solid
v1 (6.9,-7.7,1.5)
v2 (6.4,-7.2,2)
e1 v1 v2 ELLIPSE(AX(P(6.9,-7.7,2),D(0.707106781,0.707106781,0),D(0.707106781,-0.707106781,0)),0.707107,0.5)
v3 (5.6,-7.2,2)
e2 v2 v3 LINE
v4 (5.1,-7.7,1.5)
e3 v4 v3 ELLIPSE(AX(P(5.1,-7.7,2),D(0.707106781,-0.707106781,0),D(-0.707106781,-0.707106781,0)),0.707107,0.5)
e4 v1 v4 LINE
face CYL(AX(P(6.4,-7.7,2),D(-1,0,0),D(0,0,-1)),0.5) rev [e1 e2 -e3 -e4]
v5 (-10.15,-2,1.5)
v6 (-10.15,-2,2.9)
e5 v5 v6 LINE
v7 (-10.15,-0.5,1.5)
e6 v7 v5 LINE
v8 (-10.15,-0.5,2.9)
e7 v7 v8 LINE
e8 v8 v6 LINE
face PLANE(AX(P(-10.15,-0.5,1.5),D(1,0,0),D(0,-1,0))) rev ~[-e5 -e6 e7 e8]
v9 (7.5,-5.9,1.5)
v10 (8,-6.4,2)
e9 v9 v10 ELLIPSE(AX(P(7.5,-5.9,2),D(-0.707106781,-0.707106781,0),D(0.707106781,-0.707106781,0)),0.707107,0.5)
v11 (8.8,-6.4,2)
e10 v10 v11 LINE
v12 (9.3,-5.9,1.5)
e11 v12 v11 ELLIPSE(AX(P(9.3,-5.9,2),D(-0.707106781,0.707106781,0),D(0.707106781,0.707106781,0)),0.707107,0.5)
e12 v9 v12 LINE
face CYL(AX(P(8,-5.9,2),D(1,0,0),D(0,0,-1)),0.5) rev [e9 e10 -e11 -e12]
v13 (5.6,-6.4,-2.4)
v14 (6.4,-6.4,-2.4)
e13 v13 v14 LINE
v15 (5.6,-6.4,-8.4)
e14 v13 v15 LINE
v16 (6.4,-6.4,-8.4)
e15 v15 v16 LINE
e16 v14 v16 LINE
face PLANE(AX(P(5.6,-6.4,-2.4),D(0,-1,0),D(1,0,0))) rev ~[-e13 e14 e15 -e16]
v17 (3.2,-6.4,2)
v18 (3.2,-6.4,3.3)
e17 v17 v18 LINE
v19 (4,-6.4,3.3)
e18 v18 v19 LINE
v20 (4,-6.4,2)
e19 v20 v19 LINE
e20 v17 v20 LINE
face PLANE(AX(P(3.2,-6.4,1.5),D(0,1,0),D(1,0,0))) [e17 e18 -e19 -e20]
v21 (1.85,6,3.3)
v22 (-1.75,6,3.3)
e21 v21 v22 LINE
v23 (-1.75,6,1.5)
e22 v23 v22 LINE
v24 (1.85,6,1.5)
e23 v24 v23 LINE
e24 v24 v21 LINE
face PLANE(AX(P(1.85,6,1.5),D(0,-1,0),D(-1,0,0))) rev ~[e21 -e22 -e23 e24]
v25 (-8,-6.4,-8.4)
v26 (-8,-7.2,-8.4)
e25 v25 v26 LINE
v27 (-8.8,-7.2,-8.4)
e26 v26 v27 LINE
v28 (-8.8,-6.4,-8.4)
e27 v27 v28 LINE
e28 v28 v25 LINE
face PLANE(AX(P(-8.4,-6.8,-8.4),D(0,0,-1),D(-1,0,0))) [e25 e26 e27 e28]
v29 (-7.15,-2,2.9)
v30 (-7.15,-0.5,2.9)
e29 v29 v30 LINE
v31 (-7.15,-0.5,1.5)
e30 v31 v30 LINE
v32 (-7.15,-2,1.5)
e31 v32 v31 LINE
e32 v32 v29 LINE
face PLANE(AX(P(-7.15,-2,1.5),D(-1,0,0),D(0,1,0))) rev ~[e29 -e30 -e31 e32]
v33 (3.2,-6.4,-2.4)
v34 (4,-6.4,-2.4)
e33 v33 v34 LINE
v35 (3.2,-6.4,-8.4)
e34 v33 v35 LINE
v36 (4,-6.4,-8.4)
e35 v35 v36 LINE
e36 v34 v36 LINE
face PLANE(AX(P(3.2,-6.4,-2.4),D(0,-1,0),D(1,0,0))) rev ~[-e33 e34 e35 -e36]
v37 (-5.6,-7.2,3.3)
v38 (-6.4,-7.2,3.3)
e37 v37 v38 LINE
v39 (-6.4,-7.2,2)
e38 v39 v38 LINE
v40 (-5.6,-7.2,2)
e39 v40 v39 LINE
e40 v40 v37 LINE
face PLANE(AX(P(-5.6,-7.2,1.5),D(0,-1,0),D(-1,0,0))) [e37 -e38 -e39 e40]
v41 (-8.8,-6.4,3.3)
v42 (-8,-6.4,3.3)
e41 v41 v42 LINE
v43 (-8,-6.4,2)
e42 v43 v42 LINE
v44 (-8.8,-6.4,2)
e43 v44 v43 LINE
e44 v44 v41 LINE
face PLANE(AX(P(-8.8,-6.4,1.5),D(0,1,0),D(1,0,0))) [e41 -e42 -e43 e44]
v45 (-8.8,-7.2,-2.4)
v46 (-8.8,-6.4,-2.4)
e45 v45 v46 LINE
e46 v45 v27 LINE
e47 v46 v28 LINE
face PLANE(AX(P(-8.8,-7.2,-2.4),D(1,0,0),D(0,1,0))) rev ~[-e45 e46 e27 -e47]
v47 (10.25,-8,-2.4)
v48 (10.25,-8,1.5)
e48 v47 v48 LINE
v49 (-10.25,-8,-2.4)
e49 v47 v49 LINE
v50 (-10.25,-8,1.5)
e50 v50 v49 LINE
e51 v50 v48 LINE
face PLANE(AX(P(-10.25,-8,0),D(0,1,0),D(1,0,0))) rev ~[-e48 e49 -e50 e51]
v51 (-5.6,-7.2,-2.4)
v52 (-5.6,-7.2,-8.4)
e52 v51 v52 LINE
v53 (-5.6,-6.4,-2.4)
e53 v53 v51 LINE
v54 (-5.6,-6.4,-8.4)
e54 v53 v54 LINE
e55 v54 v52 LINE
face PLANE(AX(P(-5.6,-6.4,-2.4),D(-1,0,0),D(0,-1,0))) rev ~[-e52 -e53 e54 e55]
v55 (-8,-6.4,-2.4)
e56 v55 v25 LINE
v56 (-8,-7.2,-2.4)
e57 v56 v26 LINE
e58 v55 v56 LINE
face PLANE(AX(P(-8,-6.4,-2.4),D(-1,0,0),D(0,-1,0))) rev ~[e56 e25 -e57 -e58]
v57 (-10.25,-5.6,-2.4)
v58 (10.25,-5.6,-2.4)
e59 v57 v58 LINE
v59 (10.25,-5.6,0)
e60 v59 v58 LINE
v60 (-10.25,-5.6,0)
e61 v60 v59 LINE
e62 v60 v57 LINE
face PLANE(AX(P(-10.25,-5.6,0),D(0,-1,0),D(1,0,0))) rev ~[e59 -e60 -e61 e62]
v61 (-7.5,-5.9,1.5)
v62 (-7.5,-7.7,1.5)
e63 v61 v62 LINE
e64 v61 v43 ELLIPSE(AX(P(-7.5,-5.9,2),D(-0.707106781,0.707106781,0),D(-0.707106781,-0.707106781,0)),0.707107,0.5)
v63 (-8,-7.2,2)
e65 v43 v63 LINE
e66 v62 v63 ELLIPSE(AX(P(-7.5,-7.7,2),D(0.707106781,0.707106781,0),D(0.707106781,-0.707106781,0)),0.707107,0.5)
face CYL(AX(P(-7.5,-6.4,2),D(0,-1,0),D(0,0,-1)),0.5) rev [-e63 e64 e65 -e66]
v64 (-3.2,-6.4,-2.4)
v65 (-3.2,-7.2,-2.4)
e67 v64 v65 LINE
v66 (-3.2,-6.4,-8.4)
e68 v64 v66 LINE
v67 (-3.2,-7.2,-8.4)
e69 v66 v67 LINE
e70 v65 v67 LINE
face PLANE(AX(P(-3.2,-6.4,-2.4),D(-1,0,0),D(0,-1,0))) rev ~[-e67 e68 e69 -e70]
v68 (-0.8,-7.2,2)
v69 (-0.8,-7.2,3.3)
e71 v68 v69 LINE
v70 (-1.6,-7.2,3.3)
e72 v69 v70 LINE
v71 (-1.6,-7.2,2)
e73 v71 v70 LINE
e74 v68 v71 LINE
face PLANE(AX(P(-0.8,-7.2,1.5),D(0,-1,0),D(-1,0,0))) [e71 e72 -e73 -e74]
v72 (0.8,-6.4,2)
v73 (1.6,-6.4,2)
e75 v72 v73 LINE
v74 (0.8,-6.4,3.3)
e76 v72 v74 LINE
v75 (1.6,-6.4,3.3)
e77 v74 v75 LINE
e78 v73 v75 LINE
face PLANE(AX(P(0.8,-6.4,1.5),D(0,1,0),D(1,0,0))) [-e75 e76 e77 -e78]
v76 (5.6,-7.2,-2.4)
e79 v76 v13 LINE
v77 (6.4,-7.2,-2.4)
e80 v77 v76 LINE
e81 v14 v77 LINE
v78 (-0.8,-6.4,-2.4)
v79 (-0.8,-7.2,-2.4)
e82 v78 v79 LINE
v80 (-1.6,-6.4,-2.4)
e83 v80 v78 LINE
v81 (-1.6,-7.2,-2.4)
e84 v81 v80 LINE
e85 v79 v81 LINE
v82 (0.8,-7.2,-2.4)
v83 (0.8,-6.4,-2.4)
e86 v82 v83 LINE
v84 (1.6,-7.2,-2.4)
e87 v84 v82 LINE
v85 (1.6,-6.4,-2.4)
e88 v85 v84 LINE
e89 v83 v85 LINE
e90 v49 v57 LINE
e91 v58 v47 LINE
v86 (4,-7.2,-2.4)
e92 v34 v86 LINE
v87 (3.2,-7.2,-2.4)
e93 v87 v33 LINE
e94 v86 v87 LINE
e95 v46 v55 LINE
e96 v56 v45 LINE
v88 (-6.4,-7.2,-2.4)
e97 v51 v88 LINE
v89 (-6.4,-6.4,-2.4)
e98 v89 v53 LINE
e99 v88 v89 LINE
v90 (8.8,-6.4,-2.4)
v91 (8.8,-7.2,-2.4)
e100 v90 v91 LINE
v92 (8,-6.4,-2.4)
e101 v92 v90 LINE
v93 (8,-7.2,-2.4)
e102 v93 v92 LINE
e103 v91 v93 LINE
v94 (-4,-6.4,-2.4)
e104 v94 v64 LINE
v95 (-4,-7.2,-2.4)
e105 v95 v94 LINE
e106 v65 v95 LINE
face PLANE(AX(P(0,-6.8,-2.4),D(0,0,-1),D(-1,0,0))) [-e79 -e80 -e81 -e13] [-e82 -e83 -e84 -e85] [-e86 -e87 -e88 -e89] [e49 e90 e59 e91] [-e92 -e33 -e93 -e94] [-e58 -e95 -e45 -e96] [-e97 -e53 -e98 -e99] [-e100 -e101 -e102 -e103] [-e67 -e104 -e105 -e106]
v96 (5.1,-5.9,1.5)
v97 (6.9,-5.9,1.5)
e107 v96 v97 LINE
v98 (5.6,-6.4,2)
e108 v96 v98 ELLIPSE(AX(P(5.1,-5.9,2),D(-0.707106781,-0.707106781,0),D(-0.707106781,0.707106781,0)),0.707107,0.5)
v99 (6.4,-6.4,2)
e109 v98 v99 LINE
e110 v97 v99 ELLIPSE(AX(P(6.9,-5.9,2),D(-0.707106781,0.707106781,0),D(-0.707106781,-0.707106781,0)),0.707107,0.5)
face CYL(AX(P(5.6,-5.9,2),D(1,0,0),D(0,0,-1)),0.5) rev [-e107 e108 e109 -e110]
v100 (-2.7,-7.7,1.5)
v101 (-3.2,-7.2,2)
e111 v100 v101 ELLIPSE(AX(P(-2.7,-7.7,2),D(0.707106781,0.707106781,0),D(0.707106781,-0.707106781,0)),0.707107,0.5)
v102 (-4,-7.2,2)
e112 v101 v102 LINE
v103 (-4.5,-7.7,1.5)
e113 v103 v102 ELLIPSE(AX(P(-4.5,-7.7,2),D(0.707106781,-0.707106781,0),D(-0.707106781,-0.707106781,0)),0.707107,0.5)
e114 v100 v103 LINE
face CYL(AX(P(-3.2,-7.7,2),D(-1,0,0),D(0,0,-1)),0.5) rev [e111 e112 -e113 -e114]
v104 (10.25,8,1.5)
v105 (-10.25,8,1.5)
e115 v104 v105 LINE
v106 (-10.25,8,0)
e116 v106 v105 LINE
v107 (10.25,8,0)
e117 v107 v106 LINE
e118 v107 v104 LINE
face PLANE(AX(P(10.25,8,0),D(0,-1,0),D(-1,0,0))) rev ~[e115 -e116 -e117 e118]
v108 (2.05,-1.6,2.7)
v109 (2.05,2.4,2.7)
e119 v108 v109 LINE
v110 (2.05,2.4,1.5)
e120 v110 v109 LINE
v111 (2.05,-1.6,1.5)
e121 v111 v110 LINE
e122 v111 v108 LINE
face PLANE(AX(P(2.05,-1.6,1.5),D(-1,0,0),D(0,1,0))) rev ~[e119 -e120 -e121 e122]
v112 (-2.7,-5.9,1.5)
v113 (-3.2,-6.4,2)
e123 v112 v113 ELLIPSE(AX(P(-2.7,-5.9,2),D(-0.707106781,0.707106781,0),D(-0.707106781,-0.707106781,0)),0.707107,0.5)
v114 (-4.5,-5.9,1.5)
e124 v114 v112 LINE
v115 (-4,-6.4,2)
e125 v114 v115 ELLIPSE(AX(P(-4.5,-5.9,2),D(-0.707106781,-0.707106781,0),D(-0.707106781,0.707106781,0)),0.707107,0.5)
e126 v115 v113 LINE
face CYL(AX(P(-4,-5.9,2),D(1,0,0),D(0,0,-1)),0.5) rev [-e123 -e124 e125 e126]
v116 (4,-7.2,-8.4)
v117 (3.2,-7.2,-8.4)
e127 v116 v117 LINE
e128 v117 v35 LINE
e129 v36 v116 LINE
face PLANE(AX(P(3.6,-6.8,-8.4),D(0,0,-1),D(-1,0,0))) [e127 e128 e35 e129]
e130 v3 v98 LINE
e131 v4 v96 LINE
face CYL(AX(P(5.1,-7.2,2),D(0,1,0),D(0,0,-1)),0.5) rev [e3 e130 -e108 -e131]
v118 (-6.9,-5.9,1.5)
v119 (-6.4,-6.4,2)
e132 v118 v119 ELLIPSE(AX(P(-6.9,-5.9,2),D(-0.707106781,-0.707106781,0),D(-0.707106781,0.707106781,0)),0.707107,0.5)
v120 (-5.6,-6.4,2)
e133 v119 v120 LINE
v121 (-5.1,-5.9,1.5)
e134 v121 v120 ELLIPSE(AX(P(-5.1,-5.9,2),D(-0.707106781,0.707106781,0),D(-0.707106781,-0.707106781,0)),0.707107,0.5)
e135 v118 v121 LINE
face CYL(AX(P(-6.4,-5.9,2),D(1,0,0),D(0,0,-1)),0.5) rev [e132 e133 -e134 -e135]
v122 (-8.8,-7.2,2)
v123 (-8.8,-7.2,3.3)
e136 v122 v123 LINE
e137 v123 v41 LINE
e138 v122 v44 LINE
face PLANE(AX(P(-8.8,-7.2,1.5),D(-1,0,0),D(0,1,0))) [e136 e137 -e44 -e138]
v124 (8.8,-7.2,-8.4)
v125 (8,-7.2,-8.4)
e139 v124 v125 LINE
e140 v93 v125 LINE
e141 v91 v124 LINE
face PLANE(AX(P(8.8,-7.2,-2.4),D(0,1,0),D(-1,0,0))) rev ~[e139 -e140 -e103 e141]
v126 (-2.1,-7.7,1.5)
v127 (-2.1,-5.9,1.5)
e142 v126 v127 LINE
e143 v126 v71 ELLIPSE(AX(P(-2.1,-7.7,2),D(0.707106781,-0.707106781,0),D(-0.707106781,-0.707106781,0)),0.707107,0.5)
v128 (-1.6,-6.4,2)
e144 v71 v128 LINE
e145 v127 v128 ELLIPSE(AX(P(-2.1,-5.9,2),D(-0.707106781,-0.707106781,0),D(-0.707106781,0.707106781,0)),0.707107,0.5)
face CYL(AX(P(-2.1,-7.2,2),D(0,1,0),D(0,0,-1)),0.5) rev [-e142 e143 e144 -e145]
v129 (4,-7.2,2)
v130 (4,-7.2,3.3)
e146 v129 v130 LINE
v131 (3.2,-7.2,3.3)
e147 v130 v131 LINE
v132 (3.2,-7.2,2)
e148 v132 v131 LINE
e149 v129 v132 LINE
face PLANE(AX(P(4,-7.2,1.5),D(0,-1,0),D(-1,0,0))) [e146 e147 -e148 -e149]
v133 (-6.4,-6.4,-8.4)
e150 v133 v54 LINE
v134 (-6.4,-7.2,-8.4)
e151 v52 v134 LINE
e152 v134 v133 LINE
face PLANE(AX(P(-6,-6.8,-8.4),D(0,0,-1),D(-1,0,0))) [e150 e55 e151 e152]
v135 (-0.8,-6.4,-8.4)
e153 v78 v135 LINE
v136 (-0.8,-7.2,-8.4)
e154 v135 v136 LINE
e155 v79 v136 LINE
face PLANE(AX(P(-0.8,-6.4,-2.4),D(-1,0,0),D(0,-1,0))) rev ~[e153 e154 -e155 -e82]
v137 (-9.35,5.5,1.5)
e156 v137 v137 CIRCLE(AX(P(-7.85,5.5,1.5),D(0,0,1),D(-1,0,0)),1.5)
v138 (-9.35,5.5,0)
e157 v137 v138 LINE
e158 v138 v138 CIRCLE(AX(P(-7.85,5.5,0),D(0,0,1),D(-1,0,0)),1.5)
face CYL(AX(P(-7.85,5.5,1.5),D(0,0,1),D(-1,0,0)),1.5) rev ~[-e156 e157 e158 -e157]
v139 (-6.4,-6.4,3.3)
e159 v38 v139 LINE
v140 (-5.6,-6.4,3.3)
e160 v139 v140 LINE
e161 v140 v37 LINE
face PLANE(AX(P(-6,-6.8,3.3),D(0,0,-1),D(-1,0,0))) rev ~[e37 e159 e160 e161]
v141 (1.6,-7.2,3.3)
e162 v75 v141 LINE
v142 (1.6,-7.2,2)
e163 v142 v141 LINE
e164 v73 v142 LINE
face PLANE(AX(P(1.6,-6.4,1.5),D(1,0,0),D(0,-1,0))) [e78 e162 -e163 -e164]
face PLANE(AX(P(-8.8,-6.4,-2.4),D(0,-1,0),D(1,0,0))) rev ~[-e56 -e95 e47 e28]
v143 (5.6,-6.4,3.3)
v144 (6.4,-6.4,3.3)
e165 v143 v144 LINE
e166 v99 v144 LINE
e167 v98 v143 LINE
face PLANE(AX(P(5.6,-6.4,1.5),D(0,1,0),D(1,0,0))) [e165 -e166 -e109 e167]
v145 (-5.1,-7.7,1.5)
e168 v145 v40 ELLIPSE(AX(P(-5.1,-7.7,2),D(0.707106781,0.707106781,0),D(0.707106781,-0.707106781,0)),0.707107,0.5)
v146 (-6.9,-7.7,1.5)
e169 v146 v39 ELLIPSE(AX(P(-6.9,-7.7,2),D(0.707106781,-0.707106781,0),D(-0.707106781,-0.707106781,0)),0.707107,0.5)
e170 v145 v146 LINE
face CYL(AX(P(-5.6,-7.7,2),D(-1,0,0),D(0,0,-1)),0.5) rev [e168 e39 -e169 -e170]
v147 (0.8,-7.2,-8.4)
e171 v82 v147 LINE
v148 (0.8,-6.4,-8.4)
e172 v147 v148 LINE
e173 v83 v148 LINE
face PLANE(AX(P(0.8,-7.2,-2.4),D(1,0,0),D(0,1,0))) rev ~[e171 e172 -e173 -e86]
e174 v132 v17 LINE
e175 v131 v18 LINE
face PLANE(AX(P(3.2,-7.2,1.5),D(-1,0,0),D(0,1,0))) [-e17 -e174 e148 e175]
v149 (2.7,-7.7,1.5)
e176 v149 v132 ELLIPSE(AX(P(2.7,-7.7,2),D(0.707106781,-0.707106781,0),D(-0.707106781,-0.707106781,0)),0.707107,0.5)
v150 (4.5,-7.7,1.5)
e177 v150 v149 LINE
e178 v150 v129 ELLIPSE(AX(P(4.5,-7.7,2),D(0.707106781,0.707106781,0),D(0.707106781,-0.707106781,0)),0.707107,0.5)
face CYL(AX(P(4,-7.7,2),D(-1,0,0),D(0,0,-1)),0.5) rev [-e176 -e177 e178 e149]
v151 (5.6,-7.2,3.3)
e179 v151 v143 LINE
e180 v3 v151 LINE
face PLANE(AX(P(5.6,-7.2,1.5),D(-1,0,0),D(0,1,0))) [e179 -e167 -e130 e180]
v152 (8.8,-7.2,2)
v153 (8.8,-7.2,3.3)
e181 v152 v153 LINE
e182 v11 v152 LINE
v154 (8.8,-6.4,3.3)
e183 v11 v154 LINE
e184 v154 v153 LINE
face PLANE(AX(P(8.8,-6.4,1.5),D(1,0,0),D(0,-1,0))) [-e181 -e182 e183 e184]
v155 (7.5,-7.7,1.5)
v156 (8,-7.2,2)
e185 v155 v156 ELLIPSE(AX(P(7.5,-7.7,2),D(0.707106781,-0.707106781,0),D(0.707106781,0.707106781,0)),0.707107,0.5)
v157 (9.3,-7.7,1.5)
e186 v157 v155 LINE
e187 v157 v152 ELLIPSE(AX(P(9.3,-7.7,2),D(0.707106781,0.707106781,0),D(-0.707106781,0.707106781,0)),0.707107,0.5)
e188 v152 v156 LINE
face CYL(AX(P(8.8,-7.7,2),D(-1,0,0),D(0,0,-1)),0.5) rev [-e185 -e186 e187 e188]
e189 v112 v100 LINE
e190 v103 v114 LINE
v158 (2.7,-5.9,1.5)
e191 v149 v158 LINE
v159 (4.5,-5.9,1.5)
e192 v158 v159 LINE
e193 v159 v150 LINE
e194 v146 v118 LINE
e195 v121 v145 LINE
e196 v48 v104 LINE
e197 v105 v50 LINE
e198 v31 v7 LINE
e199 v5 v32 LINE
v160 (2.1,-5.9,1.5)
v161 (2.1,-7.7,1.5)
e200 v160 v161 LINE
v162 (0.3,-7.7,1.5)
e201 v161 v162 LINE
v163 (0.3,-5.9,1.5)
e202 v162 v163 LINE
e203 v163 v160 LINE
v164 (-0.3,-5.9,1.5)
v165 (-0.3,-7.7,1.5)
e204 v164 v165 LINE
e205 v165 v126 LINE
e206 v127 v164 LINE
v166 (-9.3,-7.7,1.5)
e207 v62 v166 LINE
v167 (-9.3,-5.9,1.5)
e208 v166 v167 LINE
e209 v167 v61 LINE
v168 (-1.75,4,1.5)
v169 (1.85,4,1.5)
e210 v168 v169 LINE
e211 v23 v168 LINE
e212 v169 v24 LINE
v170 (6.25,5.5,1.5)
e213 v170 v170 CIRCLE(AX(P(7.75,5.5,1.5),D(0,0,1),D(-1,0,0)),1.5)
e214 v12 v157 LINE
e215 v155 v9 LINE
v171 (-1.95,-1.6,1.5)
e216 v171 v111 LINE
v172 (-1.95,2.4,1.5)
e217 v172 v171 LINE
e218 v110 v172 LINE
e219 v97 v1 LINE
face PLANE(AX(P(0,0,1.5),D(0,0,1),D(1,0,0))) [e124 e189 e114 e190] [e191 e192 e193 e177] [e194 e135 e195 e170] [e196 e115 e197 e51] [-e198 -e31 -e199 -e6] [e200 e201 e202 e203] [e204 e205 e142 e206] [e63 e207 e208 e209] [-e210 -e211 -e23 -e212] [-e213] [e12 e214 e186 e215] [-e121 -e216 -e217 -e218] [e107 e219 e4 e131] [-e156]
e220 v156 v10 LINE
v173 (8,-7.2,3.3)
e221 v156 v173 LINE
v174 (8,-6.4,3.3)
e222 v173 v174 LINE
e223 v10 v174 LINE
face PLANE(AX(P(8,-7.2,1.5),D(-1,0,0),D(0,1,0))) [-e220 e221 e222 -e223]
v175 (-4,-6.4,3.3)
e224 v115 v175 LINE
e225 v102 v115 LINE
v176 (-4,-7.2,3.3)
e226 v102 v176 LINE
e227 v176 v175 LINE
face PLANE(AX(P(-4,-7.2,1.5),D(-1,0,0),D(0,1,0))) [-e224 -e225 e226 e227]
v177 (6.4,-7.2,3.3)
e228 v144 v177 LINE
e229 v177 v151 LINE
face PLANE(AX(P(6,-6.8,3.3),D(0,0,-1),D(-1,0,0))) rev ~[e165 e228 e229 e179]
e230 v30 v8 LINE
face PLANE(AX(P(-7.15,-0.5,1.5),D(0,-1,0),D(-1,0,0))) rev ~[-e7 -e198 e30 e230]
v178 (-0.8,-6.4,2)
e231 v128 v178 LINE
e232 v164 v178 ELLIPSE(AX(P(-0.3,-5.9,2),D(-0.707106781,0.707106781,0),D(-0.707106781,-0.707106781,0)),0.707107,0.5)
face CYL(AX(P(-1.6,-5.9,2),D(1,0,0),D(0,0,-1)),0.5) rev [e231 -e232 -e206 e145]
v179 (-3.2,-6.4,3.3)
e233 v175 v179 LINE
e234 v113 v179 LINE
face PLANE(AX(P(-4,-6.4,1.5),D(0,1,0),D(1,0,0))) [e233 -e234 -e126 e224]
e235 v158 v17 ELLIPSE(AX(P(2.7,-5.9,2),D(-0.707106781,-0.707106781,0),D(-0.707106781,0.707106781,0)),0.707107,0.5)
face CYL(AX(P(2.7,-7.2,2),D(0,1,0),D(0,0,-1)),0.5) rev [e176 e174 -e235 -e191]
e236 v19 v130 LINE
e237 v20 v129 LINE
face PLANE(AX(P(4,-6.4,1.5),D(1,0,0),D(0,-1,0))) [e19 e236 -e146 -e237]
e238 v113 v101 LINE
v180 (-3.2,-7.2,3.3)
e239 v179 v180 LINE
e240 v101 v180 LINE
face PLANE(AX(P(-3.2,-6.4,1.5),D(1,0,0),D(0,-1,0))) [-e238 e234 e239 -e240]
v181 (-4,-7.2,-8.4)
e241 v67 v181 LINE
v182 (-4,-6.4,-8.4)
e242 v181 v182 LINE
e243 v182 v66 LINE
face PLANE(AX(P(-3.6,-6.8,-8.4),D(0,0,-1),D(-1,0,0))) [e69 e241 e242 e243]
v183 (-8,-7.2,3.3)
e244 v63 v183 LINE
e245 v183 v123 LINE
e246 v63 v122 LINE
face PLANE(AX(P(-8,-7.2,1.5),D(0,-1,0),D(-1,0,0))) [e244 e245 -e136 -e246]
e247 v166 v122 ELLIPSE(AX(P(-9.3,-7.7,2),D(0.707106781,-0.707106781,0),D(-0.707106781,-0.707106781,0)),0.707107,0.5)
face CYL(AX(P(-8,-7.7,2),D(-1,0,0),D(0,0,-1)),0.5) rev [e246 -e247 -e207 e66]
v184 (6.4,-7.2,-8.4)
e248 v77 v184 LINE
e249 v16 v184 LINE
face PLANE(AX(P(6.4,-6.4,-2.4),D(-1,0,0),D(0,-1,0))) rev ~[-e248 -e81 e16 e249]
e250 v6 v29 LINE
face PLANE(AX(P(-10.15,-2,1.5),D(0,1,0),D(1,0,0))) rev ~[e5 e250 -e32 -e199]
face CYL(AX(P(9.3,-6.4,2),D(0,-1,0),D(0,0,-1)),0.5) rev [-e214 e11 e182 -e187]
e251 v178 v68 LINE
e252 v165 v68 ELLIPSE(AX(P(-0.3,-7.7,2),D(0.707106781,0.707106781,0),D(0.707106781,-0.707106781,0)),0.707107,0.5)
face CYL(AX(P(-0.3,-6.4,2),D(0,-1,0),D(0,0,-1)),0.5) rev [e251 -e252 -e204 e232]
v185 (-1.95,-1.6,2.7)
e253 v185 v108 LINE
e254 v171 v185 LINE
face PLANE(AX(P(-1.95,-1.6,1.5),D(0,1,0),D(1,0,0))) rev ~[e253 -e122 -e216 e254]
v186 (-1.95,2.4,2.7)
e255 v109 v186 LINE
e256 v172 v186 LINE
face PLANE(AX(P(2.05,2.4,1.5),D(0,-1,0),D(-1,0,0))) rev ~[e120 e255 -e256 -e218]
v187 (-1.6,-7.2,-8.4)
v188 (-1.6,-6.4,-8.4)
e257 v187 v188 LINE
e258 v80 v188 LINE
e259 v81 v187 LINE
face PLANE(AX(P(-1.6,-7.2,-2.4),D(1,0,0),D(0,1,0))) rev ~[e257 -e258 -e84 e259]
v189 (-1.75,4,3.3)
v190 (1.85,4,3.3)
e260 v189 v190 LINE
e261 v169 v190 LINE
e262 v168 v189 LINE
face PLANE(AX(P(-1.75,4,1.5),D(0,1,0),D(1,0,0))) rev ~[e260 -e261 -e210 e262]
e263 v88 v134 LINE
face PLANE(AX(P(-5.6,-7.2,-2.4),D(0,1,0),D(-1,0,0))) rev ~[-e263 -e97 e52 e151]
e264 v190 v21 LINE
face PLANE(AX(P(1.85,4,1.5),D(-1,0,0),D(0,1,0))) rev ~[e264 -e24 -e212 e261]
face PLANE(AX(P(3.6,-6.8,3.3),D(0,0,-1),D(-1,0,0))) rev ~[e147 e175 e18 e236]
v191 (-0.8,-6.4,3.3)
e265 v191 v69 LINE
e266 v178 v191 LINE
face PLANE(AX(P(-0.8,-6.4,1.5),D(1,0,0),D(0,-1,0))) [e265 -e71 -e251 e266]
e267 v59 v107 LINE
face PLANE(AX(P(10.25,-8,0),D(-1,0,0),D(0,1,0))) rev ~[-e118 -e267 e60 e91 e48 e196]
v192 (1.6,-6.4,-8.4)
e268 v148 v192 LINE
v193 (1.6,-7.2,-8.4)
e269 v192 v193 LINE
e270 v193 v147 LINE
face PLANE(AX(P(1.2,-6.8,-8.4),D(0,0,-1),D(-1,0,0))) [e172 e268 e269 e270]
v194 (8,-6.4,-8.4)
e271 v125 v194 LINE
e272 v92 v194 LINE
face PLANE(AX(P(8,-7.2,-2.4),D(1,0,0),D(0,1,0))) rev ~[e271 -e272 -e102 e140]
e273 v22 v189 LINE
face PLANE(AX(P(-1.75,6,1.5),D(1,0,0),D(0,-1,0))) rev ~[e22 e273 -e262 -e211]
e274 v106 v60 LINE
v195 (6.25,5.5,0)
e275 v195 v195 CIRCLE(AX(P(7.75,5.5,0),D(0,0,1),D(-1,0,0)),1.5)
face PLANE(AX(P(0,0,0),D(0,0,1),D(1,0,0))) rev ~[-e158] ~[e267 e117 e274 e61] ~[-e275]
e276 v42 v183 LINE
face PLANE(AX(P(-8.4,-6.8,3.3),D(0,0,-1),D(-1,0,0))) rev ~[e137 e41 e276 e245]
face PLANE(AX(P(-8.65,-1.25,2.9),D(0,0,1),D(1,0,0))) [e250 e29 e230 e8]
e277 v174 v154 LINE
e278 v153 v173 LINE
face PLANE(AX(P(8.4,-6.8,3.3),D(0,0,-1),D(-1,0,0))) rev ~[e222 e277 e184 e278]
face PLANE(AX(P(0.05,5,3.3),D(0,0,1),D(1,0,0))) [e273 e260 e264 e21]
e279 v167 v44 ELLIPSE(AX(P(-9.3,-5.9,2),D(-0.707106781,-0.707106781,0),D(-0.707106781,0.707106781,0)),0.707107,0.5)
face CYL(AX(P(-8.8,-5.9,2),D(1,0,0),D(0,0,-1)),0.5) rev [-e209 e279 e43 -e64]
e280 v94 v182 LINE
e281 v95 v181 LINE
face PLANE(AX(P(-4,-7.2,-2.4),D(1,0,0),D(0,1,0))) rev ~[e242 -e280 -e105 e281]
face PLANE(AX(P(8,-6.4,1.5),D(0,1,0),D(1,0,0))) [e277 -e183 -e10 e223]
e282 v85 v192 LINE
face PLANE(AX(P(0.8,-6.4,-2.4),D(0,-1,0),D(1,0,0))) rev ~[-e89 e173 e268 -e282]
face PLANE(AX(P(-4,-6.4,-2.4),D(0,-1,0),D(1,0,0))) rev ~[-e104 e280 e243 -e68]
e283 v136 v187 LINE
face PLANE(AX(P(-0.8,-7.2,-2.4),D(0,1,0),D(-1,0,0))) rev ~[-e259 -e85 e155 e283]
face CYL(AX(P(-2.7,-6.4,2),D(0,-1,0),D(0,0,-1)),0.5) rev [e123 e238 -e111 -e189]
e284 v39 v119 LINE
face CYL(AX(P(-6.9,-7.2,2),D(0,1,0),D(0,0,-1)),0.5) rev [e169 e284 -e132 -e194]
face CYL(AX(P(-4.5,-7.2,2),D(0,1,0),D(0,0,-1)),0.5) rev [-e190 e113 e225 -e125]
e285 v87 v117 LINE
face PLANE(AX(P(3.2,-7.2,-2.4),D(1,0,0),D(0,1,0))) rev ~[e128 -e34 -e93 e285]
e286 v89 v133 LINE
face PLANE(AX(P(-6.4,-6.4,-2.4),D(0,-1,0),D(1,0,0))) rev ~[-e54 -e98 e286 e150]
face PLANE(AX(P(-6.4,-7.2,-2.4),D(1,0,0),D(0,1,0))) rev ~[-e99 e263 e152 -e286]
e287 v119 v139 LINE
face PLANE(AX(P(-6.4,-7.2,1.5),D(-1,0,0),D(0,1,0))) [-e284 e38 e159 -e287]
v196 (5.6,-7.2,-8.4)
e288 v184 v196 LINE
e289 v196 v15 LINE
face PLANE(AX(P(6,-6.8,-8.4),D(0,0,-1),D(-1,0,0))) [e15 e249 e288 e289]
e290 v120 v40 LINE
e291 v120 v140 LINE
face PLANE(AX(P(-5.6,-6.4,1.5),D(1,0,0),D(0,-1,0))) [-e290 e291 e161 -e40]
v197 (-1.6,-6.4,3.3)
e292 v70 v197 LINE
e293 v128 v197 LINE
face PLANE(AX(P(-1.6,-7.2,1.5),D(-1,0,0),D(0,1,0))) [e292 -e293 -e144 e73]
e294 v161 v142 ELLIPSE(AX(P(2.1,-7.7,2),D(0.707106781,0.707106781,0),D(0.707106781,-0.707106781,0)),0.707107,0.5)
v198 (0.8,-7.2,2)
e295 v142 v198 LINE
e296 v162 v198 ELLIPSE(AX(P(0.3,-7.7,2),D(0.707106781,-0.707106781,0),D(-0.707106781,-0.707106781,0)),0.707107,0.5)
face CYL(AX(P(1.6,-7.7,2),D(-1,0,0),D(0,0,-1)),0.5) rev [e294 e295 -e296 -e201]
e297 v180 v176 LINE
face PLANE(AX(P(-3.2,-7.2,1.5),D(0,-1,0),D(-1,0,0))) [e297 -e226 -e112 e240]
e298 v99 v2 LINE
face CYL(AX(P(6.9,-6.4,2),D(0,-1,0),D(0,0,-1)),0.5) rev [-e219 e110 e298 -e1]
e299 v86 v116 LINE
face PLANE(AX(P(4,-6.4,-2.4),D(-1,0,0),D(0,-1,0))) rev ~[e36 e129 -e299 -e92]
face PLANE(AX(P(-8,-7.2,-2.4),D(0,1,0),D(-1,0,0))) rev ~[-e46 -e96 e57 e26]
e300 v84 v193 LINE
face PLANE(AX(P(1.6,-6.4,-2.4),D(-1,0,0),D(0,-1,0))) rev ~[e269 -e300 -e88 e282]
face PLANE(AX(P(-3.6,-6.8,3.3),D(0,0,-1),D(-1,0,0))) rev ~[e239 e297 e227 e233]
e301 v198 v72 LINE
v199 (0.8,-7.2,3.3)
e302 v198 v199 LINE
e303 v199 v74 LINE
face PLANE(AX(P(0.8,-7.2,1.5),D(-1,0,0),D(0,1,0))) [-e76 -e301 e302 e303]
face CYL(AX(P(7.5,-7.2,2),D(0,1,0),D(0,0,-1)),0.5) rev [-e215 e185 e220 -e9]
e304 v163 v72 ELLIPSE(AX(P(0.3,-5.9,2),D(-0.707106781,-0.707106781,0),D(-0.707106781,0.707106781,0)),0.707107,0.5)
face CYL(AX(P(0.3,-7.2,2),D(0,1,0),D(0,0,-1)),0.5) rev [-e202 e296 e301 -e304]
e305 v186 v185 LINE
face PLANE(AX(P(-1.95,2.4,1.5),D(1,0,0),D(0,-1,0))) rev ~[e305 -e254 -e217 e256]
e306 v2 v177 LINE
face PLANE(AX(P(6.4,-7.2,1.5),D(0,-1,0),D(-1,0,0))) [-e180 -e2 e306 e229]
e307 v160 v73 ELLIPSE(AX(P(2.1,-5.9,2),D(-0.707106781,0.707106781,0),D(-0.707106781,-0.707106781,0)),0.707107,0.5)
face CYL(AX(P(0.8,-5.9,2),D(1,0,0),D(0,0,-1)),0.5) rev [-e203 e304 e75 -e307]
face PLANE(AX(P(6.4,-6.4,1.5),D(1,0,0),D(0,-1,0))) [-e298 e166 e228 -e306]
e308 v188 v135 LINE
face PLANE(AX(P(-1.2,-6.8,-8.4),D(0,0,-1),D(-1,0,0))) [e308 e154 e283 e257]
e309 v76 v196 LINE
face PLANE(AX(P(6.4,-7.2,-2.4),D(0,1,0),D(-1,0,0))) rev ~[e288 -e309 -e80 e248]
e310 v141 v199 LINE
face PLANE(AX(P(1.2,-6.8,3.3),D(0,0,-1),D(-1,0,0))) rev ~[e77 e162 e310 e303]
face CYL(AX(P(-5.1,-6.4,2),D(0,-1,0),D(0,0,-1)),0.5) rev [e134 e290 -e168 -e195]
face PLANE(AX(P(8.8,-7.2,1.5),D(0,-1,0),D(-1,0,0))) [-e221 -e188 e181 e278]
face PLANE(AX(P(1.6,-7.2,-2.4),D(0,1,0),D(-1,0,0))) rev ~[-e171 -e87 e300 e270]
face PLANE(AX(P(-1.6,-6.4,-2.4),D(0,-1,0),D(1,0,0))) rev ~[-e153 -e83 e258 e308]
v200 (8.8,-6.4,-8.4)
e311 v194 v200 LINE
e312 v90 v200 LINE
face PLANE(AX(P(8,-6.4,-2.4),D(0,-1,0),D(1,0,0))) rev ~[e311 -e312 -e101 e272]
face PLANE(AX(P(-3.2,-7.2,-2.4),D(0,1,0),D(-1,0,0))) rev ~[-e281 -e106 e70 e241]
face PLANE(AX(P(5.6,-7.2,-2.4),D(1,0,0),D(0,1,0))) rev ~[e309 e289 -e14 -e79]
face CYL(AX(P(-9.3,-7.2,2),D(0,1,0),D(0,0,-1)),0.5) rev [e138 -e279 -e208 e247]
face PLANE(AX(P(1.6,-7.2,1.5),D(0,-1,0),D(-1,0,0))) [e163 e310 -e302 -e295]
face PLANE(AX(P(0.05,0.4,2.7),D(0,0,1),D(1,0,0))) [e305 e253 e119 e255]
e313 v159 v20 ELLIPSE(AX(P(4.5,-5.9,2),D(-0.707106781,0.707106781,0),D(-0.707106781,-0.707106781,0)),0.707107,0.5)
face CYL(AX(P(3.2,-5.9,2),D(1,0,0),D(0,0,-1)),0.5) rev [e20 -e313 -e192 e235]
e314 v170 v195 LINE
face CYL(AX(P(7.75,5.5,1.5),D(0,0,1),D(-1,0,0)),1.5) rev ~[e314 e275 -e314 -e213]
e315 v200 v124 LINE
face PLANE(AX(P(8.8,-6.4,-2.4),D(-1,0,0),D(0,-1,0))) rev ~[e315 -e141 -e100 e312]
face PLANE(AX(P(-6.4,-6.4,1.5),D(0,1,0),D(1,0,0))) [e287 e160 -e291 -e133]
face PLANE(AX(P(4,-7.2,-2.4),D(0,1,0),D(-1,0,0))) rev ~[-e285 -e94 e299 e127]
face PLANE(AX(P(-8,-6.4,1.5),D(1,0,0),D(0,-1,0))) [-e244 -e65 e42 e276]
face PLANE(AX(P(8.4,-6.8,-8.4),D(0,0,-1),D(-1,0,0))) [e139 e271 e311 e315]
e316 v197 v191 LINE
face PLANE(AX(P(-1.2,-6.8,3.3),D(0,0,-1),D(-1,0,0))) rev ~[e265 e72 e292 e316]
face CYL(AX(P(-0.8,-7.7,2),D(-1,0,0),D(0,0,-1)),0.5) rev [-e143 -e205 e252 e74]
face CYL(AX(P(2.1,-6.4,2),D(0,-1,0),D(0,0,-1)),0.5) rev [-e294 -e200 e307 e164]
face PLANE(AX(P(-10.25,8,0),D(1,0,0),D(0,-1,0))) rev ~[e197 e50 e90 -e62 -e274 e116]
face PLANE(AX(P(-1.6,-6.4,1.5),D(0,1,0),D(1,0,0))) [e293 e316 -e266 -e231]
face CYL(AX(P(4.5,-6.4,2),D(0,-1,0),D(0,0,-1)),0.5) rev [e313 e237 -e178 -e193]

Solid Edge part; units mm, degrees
sketch "Sketch1" plane through (0, 0, 0) normal (0, 0, 1) x (1, 0, 0)
  line L0 (-10.25, -8) -> (10.25, -8)
  line L1 (10.25, -8) -> (10.25, 8)
  line L2 (10.25, 8) -> (-10.25, 8)
  line L3 (-10.25, 8) -> (-10.25, -8)
extrude "Protrusion1" add sketch "Sketch1" along normal blind 1.5
sketch "Sketch2" plane through (0, 0, 0) normal (0, 0, -1) x (1, 0, 0)
  line L0 (-10.25, 5.6) -> (10.25, 5.6)
  line L1 (10.25, 5.6) -> (10.25, 8)
  line L2 (10.25, 8) -> (-10.25, 8)
  line L3 (-10.25, 8) -> (-10.25, 5.6)
extrude "Wyciągnięcie_2" add sketch "Sketch2" along normal blind 2.4
sketch "Sketch3" plane through (0, -6.8, -2.4) normal (0, 0, -1) x (1, 0, 0)
  line L0 (-8.8, -0.4) -> (-8, -0.4)
  line L1 (-8, -0.4) -> (-8, 0.4)
  line L2 (-8, 0.4) -> (-8.8, 0.4)
  line L3 (-8.8, 0.4) -> (-8.8, -0.4)
  line L4 (-6.4, -0.4) -> (-5.6, -0.4)
  line L5 (-5.6, -0.4) -> (-5.6, 0.4)
  line L6 (-5.6, 0.4) -> (-6.4, 0.4)
  line L7 (-6.4, 0.4) -> (-6.4, -0.4)
  line L8 (-4, -0.4) -> (-3.2, -0.4)
  line L9 (-3.2, -0.4) -> (-3.2, 0.4)
  line L10 (-3.2, 0.4) -> (-4, 0.4)
  line L11 (-4, 0.4) -> (-4, -0.4)
  line L12 (-1.6, -0.4) -> (-0.8, -0.4)
  line L13 (-0.8, -0.4) -> (-0.8, 0.4)
  line L14 (-0.8, 0.4) -> (-1.6, 0.4)
  line L15 (-1.6, 0.4) -> (-1.6, -0.4)
  line L16 (0.8, -0.4) -> (1.6, -0.4)
  line L17 (1.6, -0.4) -> (1.6, 0.4)
  line L18 (1.6, 0.4) -> (0.8, 0.4)
  line L19 (0.8, 0.4) -> (0.8, -0.4)
  line L20 (3.2, -0.4) -> (4, -0.4)
  line L21 (4, -0.4) -> (4, 0.4)
  line L22 (4, 0.4) -> (3.2, 0.4)
  line L23 (3.2, 0.4) -> (3.2, -0.4)
  line L24 (5.6, -0.4) -> (6.4, -0.4)
  line L25 (6.4, -0.4) -> (6.4, 0.4)
  line L26 (6.4, 0.4) -> (5.6, 0.4)
  line L27 (5.6, 0.4) -> (5.6, -0.4)
  line L28 (8, -0.4) -> (8.8, -0.4)
  line L29 (8.8, -0.4) -> (8.8, 0.4)
  line L30 (8.8, 0.4) -> (8, 0.4)
  line L31 (8, 0.4) -> (8, -0.4)
  dimension "D1" = 0.8
  dimension "D2" = 1.45
  dimension "D3" = 2.4
  dimension "D4" = 2.4
  dimension "D5" = 2.4
  dimension "D6" = 2.4
  dimension "D7" = 2.4
  dimension "D8" = 2.4
  dimension "D9" = 2.4
extrude "Wyciągnięcie_3" add sketch "Sketch3" along normal blind 6
sketch "Sketch4" plane through (0, 0, 1.5) normal (0, 0, 1) x (1, 0, 0)
  line L0 (-8.8, -6.4) -> (-8, -6.4)
  line L1 (-8, -6.4) -> (-8, -7.2)
  line L2 (-8, -7.2) -> (-8.8, -7.2)
  line L3 (-8.8, -7.2) -> (-8.8, -6.4)
  line L4 (-6.4, -6.4) -> (-5.6, -6.4)
  line L5 (-5.6, -6.4) -> (-5.6, -7.2)
  line L6 (-5.6, -7.2) -> (-6.4, -7.2)
  line L7 (-6.4, -7.2) -> (-6.4, -6.4)
  line L8 (-4, -6.4) -> (-3.2, -6.4)
  line L9 (-3.2, -6.4) -> (-3.2, -7.2)
  line L10 (-3.2, -7.2) -> (-4, -7.2)
  line L11 (-4, -7.2) -> (-4, -6.4)
  line L12 (-1.6, -6.4) -> (-0.8, -6.4)
  line L13 (-0.8, -6.4) -> (-0.8, -7.2)
  line L14 (-0.8, -7.2) -> (-1.6, -7.2)
  line L15 (-1.6, -7.2) -> (-1.6, -6.4)
  line L16 (0.8, -6.4) -> (1.6, -6.4)
  line L17 (1.6, -6.4) -> (1.6, -7.2)
  line L18 (1.6, -7.2) -> (0.8, -7.2)
  line L19 (0.8, -7.2) -> (0.8, -6.4)
  line L20 (3.2, -6.4) -> (4, -6.4)
  line L21 (4, -6.4) -> (4, -7.2)
  line L22 (4, -7.2) -> (3.2, -7.2)
  line L23 (3.2, -7.2) -> (3.2, -6.4)
  line L24 (5.6, -6.4) -> (6.4, -6.4)
  line L25 (6.4, -6.4) -> (6.4, -7.2)
  line L26 (6.4, -7.2) -> (5.6, -7.2)
  line L27 (5.6, -7.2) -> (5.6, -6.4)
  line L28 (8, -6.4) -> (8.8, -6.4)
  line L29 (8.8, -6.4) -> (8.8, -7.2)
  line L30 (8.8, -7.2) -> (8, -7.2)
  line L31 (8, -7.2) -> (8, -6.4)
extrude "Wyciągnięcie_4" add sketch "Sketch4" along normal blind 1.8
fillet "Zaokrąglenie_1" radius 0.5 32 edges at (8.4, -6.4, 1.5) (8, -6.8, 1.5) (8.4, -7.2, 1.5) (8.8, -6.8, 1.5) (6.4, -6.8, 1.5) (6, -7.2, 1.5) (4, -6.8, 1.5) (3.6, -7.2, 1.5) (1.6, -6.8, 1.5) (1.2, -7.2, 1.5) (-0.8, -6.8, 1.5) (-1.2, -7.2, 1.5) (-3.2, -6.8, 1.5) (-3.6, -7.2, 1.5) (-5.6, -6.8, 1.5) (-6, -7.2, 1.5) (-8, -6.8, 1.5) (-8.4, -7.2, 1.5) (-8.8, -6.8, 1.5) (-8.4, -6.4, 1.5) (-6.4, -6.8, 1.5) (-6, -6.4, 1.5) (-4, -6.8, 1.5) (-3.6, -6.4, 1.5) (-1.6, -6.8, 1.5) (-1.2, -6.4, 1.5) (0.8, -6.8, 1.5) (1.2, -6.4, 1.5) (3.2, -6.8, 1.5) (3.6, -6.4, 1.5) (5.6, -6.8, 1.5) (6, -6.4, 1.5)
sketch "Sketch5" plane through (0, 0, 1.5) normal (0, 0, 1) x (-1, 0, 0)
  line L0 (-1.85, -6) -> (1.75, -6)
  line L1 (1.75, -6) -> (1.75, -4)
  line L2 (1.75, -4) -> (-1.85, -4)
  line L3 (-1.85, -4) -> (-1.85, -6)
  dimension "D1" = 3.6
  dimension "D2" = 2
  dimension "D3" = 2
  dimension "D4" = 8.4
extrude "Wyciągnięcie_5" add sketch "Sketch5" along normal blind 1.8
sketch "Sketch6" plane through (0, 0, 1.5) normal (0, 0, 1) x (-1, 0, 0)
  circle A0 centre (-7.75, -5.5) radius 1.5
  circle A1 centre (7.85, -5.5) radius 1.5
  dimension "D1" = 3
  dimension "D2" = 3
  dimension "D3" = 2.5
  dimension "D4" = 2.5
  dimension "D5" = 2.5
  dimension "D6" = 2.4
extrude "Wycięcie_1" cut sketch "Sketch6" against normal blind 12.1533
sketch "Sketch7" plane through (0, 0, 1.5) normal (0, 0, 1) x (-1, 0, 0)
  line L0 (-2.05, -2.4) -> (1.95, -2.4)
  line L1 (1.95, -2.4) -> (1.95, 1.6)
  line L2 (1.95, 1.6) -> (-2.05, 1.6)
  line L3 (-2.05, 1.6) -> (-2.05, -2.4)
  dimension "D1" = 4
  dimension "D2" = 4
  dimension "D3" = 8.2
  dimension "D4" = 5.6
extrude "Wyciągnięcie_6" add sketch "Sketch7" along normal blind 1.2
sketch "Sketch8" plane through (0, 0, 1.5) normal (0, 0, 1) x (-1, 0, 0)
  line L0 (7.15, 0.5) -> (10.15, 0.5)
  line L1 (10.15, 0.5) -> (10.15, 2)
  line L2 (10.15, 2) -> (7.15, 2)
  line L3 (7.15, 2) -> (7.15, 0.5)
  dimension "D1" = 0.1
  dimension "D2" = 3
  dimension "D3" = 1.5
  dimension "D4" = 6
extrude "Wyciągnięcie_7" add sketch "Sketch8" along normal blind 1.4
